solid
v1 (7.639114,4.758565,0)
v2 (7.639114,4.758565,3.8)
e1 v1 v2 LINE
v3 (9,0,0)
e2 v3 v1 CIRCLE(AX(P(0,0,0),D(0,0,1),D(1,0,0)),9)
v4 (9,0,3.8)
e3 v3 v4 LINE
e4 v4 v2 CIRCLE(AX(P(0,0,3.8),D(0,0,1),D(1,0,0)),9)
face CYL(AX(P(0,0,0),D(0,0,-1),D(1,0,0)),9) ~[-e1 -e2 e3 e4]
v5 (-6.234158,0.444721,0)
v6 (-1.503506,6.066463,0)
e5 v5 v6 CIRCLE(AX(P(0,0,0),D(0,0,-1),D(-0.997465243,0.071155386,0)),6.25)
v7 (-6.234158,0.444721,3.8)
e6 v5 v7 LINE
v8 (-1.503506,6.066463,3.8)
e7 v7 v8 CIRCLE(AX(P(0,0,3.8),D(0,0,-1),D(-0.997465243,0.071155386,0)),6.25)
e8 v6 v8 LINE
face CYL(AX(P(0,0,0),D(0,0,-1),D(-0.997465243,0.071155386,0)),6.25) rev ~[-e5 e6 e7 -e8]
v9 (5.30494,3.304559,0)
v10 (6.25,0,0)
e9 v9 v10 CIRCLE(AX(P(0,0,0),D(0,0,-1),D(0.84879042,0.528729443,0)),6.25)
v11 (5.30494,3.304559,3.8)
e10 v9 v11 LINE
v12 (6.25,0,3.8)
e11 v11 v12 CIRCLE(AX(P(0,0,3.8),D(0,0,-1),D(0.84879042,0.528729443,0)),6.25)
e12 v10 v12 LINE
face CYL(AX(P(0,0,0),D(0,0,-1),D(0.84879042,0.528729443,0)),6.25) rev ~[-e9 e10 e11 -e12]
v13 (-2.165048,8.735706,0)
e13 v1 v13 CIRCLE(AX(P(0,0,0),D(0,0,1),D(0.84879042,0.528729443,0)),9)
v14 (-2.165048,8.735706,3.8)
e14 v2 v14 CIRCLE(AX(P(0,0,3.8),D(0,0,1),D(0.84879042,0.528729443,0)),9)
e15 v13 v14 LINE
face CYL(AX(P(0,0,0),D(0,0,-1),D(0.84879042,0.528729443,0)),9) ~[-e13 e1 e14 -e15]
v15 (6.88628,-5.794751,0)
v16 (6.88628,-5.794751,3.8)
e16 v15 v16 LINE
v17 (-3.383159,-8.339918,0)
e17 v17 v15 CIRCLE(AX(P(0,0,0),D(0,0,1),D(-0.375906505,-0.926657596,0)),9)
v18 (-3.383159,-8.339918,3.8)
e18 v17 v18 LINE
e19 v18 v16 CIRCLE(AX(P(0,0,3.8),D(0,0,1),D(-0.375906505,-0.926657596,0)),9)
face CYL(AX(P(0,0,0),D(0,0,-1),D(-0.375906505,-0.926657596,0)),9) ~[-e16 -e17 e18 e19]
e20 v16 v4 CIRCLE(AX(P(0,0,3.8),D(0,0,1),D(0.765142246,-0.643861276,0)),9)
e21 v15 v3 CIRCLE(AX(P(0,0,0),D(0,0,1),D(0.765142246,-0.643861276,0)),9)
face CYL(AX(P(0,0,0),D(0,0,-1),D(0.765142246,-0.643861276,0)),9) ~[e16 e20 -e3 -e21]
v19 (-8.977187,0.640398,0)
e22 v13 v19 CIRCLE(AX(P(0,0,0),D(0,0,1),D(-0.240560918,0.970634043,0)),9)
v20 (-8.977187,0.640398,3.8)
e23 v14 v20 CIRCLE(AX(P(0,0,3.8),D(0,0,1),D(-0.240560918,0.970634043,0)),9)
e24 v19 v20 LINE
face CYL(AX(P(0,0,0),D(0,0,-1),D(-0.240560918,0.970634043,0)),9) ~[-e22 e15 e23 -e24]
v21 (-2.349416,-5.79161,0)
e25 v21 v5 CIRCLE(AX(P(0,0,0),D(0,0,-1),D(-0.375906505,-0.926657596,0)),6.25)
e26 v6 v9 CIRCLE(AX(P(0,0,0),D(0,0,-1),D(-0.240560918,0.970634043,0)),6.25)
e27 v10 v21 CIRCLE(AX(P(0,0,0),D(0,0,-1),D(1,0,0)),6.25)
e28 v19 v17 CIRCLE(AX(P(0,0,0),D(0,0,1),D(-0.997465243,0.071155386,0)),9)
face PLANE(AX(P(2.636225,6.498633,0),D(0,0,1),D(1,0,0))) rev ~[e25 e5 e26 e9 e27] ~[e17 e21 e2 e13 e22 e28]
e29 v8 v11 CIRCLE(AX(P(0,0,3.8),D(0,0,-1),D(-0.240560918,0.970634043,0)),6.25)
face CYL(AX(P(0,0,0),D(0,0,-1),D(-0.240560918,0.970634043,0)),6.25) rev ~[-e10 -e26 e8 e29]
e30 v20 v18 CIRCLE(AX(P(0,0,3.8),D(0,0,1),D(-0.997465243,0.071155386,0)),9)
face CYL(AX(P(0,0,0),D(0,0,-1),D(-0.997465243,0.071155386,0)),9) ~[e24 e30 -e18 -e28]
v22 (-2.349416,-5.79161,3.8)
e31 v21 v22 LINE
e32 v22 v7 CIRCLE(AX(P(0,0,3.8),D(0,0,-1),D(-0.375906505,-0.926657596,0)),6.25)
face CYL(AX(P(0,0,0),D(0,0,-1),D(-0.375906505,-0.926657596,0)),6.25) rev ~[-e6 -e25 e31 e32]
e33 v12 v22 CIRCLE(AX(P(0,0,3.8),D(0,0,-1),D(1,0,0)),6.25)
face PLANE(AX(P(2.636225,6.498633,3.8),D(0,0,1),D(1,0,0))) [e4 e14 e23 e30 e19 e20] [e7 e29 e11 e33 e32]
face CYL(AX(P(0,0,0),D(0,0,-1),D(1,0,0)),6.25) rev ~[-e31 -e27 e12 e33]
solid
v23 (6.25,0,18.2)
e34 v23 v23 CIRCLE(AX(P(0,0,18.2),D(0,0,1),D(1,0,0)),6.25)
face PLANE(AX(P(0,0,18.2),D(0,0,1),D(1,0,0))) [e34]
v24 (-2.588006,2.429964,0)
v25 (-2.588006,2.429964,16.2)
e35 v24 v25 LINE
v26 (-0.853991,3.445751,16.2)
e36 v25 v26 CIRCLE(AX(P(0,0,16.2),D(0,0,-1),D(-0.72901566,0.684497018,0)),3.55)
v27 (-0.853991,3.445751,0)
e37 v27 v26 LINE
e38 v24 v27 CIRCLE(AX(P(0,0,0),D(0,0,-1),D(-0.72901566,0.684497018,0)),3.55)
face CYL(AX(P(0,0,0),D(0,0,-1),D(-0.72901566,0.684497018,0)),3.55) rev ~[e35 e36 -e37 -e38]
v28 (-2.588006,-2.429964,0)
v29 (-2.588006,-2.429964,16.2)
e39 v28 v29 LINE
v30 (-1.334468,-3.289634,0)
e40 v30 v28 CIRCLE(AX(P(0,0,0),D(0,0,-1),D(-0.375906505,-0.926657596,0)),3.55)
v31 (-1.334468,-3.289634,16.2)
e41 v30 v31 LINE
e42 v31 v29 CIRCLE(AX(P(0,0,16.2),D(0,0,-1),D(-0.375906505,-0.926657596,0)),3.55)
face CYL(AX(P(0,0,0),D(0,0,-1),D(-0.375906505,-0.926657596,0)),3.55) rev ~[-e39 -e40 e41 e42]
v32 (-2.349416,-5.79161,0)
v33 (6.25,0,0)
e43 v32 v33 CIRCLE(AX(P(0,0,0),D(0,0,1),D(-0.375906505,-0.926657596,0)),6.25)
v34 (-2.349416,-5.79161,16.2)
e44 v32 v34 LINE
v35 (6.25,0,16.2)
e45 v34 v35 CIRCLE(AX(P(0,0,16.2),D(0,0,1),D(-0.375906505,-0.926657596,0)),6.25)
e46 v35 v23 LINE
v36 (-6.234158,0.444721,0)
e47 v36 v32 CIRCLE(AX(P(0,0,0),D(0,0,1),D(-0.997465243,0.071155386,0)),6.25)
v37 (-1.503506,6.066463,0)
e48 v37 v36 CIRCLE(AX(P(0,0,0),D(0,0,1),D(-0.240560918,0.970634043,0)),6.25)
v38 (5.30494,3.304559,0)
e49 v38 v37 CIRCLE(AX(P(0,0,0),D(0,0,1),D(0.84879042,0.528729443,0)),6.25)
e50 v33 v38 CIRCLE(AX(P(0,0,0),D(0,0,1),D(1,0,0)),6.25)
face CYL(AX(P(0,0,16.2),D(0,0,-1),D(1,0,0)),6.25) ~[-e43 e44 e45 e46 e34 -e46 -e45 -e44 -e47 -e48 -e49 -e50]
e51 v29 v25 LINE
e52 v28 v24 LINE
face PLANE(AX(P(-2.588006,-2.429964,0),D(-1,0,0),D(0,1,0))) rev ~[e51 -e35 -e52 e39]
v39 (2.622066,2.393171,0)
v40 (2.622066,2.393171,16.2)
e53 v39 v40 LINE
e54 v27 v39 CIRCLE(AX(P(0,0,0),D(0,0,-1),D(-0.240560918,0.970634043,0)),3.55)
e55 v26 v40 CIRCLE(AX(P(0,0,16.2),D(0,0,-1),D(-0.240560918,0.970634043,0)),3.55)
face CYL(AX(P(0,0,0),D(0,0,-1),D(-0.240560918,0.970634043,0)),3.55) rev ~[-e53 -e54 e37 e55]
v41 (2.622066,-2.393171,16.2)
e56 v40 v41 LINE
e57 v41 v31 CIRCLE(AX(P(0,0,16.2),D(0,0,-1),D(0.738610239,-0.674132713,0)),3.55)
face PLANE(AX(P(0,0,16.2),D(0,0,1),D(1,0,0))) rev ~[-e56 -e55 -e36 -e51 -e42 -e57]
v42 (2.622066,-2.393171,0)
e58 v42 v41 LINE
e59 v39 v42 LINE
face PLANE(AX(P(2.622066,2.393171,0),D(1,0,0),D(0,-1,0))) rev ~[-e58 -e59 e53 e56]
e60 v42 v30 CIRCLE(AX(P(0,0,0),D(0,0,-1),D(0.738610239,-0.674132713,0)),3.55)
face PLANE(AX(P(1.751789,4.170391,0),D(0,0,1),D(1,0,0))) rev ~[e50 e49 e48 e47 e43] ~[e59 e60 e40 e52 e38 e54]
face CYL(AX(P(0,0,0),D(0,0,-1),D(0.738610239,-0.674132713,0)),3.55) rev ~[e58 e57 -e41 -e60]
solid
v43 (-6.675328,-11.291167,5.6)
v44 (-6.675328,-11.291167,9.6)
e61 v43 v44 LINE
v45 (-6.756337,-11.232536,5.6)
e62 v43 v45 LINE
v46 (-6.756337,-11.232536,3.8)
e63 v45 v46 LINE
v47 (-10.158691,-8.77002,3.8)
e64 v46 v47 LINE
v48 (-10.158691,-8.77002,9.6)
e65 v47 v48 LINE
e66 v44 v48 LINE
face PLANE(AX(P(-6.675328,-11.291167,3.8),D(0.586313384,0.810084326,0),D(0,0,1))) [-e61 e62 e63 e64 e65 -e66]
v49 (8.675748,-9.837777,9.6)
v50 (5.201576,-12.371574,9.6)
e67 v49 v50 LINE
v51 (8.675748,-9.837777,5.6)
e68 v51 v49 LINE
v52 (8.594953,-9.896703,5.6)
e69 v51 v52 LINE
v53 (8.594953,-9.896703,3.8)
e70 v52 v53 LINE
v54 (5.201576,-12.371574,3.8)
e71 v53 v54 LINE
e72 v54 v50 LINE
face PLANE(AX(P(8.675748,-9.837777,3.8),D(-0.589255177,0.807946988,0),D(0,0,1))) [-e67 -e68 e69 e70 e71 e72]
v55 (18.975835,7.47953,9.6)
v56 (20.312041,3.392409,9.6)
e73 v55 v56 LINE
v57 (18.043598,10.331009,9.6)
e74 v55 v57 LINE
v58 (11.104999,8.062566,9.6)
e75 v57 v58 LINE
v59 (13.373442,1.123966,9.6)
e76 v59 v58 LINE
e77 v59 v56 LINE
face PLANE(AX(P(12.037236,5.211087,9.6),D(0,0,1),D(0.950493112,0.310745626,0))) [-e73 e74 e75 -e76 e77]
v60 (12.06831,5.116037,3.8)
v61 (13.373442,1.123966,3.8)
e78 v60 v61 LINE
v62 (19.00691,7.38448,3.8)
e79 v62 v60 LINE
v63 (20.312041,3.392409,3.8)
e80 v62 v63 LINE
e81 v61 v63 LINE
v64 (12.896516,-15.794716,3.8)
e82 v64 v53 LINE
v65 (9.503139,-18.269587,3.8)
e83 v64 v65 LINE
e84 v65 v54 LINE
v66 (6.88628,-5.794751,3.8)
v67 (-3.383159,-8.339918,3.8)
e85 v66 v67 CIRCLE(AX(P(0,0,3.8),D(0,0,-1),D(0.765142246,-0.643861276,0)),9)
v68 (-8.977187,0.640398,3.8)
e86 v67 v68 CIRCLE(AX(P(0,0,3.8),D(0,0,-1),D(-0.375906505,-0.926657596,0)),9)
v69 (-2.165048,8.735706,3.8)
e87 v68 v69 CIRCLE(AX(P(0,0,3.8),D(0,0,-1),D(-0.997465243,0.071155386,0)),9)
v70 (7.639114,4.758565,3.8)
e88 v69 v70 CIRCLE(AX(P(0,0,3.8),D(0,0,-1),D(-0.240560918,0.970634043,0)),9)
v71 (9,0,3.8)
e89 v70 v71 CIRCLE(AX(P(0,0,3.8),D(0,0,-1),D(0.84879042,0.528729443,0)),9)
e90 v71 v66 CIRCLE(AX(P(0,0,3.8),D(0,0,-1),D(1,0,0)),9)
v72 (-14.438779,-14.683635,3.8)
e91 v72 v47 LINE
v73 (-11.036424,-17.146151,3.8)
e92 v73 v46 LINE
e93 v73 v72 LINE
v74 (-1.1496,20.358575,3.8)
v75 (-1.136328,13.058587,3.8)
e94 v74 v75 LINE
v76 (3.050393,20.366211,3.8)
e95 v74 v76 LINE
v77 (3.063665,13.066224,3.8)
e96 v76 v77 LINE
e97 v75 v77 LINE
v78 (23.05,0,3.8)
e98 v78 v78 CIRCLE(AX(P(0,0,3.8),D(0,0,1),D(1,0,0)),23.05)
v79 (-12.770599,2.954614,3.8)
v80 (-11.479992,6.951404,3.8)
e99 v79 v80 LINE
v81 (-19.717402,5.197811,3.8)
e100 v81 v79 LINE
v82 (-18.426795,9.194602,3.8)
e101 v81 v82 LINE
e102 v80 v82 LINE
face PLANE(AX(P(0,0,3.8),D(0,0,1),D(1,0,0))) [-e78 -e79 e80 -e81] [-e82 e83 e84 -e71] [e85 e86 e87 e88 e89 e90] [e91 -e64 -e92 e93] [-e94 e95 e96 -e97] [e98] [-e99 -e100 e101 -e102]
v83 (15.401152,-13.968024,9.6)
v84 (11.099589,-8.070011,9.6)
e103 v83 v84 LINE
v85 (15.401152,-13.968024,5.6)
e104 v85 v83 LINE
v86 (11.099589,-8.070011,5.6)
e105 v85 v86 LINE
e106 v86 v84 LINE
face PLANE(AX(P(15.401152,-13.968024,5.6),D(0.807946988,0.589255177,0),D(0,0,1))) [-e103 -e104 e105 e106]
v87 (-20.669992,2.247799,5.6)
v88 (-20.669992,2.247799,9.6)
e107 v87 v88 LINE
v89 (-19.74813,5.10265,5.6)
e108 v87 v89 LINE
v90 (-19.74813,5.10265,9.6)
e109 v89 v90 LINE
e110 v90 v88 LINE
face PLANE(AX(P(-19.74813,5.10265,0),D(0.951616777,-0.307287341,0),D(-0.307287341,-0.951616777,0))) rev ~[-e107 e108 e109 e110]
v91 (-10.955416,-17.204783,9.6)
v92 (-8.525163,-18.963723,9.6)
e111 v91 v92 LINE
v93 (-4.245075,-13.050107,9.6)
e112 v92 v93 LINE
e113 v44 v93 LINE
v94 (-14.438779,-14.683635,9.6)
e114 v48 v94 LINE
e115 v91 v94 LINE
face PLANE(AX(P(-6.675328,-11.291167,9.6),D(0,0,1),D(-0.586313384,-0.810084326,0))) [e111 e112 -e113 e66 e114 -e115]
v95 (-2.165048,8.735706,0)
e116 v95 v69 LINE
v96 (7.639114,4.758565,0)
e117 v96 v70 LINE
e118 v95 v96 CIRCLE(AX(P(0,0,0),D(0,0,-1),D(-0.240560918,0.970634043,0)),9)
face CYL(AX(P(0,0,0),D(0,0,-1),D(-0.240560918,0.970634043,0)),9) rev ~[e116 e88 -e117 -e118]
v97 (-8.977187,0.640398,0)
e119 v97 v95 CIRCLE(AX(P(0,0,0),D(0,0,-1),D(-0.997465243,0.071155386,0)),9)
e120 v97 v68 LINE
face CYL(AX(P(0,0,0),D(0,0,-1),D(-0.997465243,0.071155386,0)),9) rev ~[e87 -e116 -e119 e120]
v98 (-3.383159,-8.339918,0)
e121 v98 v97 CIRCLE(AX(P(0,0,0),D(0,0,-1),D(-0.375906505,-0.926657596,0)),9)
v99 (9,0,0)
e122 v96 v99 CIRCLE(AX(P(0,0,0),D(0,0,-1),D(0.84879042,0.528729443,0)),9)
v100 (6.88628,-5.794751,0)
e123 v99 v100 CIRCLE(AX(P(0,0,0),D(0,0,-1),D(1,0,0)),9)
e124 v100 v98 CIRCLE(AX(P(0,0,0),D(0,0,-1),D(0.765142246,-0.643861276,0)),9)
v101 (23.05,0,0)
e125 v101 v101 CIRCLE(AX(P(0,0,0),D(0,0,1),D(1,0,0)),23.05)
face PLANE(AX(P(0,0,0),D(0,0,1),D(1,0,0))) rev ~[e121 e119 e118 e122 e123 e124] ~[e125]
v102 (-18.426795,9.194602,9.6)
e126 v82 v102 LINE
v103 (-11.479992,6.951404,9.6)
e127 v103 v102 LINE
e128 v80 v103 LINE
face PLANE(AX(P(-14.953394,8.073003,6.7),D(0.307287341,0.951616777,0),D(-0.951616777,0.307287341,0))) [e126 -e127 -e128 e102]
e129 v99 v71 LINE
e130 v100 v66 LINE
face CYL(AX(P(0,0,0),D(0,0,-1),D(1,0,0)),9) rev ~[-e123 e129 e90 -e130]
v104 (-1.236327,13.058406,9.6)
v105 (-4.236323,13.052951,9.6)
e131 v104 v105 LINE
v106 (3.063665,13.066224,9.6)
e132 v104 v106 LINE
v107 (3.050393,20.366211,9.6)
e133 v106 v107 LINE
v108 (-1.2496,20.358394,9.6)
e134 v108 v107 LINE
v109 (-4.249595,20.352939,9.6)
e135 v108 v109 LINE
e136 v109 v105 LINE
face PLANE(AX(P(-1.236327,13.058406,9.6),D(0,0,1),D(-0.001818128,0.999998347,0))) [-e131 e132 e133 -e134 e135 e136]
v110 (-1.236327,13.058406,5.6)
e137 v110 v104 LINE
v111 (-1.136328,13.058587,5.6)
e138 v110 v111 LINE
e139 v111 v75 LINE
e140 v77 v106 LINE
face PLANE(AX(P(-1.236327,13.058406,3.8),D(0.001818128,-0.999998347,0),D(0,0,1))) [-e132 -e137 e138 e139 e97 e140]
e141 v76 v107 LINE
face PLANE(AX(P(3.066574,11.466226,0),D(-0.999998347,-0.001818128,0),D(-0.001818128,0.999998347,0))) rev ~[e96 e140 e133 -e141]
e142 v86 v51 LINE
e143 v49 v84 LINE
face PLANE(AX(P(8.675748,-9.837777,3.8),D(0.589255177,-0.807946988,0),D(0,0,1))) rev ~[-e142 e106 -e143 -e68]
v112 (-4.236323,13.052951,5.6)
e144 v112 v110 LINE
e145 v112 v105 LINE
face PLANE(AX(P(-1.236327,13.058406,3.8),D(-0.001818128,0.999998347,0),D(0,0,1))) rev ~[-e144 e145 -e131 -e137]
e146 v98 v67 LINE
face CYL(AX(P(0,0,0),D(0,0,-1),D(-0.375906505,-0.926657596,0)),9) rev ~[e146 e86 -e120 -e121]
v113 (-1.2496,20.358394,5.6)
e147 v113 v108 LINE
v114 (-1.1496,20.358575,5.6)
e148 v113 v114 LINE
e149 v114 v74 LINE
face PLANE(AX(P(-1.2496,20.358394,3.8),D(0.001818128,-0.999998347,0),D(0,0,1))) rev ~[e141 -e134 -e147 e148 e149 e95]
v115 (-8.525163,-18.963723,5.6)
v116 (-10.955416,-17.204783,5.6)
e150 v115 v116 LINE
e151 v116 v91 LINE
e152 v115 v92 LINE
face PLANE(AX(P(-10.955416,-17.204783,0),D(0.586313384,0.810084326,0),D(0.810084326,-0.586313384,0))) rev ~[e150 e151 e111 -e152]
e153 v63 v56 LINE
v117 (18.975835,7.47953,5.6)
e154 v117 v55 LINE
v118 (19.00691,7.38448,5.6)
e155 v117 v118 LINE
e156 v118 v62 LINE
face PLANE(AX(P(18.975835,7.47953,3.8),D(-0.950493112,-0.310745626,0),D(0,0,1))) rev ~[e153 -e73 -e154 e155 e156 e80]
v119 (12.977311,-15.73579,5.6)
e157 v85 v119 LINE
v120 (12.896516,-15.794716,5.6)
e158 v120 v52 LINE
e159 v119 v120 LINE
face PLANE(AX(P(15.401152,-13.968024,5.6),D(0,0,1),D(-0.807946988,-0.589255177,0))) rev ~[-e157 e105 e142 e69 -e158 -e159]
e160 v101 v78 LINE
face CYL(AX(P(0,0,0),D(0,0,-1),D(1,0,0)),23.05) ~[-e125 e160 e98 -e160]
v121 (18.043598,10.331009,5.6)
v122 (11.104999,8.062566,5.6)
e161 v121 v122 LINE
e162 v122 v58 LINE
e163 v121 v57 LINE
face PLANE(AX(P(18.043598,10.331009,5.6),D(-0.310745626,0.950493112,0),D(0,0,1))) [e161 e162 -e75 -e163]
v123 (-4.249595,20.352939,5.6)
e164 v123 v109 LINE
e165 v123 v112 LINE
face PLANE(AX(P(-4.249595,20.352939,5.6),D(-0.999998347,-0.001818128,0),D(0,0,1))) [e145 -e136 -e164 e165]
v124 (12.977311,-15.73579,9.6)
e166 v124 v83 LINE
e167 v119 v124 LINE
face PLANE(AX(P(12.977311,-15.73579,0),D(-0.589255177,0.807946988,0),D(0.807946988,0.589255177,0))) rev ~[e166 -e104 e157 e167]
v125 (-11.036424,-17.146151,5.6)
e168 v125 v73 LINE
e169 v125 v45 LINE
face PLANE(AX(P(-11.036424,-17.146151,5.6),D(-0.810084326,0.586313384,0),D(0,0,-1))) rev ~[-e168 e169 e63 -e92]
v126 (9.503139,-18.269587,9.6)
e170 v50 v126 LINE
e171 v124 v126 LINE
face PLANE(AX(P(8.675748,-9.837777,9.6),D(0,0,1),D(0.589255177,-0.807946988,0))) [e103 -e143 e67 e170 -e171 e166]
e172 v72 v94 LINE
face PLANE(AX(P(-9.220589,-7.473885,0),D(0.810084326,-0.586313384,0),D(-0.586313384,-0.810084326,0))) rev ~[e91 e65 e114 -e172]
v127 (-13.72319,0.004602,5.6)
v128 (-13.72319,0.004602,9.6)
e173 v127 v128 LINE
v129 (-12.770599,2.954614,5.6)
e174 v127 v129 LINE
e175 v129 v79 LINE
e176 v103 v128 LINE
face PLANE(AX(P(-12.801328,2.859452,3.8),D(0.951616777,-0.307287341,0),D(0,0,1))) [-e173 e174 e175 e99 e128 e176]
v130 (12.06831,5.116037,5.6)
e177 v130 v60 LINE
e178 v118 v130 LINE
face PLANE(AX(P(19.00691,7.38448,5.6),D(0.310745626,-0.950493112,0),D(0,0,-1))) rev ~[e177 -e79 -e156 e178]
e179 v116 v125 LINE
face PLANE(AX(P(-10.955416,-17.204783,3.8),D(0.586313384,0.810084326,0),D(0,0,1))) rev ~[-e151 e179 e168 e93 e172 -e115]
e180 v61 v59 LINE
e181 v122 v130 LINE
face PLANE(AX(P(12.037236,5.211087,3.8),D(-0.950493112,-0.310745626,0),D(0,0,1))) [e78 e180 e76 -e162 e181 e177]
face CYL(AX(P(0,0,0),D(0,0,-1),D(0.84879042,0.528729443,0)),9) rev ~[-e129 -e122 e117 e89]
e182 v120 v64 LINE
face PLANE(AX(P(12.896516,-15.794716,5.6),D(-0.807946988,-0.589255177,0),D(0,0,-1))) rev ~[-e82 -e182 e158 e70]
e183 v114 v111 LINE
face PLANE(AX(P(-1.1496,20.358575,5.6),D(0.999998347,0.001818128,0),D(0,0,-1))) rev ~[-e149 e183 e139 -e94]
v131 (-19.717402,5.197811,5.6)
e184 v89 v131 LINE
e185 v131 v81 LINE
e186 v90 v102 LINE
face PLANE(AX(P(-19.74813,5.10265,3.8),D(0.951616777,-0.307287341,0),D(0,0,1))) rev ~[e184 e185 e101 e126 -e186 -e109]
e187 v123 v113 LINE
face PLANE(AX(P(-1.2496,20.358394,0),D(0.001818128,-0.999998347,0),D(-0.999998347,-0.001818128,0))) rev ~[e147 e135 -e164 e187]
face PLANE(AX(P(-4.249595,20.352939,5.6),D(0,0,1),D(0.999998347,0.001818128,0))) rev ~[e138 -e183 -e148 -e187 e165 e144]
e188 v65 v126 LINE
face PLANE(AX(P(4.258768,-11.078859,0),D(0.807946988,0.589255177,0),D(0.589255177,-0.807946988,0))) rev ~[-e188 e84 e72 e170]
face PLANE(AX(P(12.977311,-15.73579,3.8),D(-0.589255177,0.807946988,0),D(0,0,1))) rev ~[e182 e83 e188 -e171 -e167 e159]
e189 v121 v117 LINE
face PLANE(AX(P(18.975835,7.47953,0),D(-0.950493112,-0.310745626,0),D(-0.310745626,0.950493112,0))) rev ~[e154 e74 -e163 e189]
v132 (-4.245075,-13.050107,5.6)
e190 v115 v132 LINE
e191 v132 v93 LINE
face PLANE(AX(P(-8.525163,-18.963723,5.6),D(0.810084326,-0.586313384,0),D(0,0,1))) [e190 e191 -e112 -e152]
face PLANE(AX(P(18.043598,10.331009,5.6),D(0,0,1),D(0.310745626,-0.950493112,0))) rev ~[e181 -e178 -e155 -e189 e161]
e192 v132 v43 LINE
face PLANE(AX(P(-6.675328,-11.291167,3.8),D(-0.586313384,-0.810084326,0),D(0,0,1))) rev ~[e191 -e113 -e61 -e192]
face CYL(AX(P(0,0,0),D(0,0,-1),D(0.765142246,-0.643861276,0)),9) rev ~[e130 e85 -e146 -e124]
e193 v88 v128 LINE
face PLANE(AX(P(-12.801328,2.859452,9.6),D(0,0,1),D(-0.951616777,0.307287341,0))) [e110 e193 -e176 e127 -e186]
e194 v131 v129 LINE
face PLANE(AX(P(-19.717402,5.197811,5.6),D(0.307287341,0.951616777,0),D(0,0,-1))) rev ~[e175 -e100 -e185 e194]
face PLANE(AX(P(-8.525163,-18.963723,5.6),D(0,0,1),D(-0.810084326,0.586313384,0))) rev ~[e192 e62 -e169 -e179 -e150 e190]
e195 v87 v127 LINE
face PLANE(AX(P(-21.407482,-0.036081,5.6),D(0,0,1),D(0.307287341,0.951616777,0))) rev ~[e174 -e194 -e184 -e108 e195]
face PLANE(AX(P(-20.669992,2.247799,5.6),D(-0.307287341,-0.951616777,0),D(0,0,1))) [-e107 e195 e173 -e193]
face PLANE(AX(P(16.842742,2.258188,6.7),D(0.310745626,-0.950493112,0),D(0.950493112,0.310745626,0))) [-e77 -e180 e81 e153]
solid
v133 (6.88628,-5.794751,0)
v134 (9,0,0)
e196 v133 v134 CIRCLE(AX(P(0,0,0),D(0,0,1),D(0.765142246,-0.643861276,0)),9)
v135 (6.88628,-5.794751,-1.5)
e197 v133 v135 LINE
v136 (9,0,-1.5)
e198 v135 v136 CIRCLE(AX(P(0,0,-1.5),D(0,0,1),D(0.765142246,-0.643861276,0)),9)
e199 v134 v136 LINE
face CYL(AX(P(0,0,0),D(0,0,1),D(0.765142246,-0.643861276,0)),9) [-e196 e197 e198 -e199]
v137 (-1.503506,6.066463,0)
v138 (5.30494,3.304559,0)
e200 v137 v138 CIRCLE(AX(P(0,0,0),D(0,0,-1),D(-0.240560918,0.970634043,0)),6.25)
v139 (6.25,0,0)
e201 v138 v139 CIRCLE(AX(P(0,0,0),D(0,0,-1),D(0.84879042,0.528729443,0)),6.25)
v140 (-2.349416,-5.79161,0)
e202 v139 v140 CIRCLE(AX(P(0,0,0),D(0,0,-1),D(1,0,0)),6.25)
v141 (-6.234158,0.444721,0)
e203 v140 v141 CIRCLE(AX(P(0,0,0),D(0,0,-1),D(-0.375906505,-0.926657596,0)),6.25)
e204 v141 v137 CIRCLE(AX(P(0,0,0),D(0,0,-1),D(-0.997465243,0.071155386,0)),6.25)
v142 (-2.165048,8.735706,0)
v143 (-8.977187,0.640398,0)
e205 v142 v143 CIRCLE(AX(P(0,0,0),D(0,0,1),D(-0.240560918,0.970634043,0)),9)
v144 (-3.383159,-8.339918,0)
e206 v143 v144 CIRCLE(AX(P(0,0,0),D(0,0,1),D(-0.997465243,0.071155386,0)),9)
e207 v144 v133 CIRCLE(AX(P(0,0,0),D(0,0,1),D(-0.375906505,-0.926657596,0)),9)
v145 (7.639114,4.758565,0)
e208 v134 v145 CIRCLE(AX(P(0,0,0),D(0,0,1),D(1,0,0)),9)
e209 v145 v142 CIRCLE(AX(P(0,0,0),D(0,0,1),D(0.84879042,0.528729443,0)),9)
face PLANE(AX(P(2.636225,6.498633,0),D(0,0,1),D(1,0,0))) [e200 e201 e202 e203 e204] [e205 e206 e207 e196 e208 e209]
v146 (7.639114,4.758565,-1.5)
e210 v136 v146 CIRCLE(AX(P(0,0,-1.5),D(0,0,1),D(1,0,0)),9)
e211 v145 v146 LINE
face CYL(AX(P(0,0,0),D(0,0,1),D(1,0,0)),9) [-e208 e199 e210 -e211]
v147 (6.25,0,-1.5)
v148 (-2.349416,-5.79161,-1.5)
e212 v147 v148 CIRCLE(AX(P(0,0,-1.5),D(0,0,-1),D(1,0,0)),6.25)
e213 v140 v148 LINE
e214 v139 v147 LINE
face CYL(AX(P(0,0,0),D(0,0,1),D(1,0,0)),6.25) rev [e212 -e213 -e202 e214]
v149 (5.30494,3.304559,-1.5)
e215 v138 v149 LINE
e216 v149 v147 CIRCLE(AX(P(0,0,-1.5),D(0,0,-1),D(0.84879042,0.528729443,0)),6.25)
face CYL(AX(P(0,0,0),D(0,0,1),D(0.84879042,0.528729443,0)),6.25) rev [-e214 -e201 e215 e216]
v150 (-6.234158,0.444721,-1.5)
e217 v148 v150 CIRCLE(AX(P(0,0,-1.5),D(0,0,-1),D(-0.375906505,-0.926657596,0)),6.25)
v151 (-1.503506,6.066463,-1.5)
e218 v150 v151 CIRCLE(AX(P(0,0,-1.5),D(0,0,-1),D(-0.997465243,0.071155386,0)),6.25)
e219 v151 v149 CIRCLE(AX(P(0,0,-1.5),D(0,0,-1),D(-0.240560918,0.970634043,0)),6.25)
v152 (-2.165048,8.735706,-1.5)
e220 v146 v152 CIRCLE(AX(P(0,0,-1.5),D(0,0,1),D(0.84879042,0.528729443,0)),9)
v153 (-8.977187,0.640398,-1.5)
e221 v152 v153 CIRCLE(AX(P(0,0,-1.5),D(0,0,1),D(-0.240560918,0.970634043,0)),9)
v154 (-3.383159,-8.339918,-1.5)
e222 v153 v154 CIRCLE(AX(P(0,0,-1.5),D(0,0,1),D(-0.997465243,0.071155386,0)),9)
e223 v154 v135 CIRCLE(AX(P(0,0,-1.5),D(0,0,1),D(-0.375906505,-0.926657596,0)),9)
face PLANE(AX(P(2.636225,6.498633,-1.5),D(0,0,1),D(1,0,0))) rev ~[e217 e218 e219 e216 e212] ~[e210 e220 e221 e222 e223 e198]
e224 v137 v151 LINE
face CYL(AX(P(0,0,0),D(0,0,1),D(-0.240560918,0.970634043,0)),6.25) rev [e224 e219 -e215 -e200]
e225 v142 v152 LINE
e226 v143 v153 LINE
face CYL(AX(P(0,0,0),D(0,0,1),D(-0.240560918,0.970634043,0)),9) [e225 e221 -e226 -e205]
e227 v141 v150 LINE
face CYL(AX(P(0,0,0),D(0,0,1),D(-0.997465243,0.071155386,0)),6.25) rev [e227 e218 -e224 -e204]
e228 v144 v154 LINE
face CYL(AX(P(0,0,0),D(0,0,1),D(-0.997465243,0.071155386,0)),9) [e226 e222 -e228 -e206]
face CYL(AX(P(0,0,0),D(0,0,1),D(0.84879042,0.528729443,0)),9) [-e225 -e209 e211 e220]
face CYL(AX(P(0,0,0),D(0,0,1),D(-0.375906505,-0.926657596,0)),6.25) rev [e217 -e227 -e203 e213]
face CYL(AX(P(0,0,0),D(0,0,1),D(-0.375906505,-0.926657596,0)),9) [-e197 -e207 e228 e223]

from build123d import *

# Parameters (mm, degrees)
F1_DEPTH  = 16.2
F0_R      = 23.05
F2_DEPTH  = 3.8
F3_DEPTH  = 1.5
F4_DEPTH  = 3.8
F5_R      = 6.25
F6_DEPTH  = 2
F7_DEPTH  = 9.6
F8_W      = 1.6
F8_H      = 5.8
F9_DEPTH  = 5.4
F8_W_2    = 7.3
F10_DEPTH = 4.3
F12_DEPTH = 7.3
F11_W     = 2.4
F11_H     = 4
F13_DEPTH = 7.3
F14_W     = 1.6
F14_H     = 5.8
F15_DEPTH = 5.4
F16_DEPTH = 4.3
F17_W     = 2.4
F17_H     = 4
F18_DEPTH = 7.3
F19_W     = 1.6
F19_H     = 5.8
F20_DEPTH = 5.4
F19_W_2   = 7.3
F21_DEPTH = 4.3
F22_W     = 2.4
F22_H     = 4
F23_DEPTH = 7.3
F24_W     = 1.6
F24_H     = 5.8
F25_DEPTH = 5.4
F26_DEPTH = 4.3
F27_W     = 2.4
F27_H     = 4
F28_DEPTH = 7.3
F29_W     = 1.6
F29_H     = 5.8
F30_DEPTH = 5.4
F31_DEPTH = 4.3
F32_W     = 2.4
F32_H     = 4
F33_DEPTH = 7.3


with BuildPart() as f1:
    # F0 (on Top) → F1 (new body)
    with BuildSketch(Plane.XY):
        with BuildLine():
            Line((2.62206635, 1.633340396), (5.3049401224, 3.3045590171))
            ThreePointArc((5.3049401224, 3.3045590171), (2.3494156576, 5.791609972), (-1.5035057347, 6.0664627672))
            Line((-1.5035057347, 6.0664627672), (-0.8539912573, 3.4457508518))
            ThreePointArc((-0.8539912573, 3.4457508518), (1.0288359447, 3.3976457436), (2.62206635, 2.3931711297))
            Line((2.62206635, 2.3931711297), (2.62206635, 1.633340396))
        make_face()
        with BuildLine():
            Line((-0.8539912573, 3.4457508518), (-1.5035057347, 6.0664627672))
            ThreePointArc((-1.5035057347, 6.0664627672), (-4.7821390387, 4.0241329768), (-6.2341577688, 0.4447211645))
            Line((-6.2341577688, 0.4447211645), (-2.5880055924, 0.1846185008))
            Line((-2.5880055924, 0.1846185008), (-2.5880055924, 2.4299644141))
            ThreePointArc((-2.5880055924, 2.4299644141), (-1.7943776359, 3.0631207779), (-0.8539912573, 3.4457508518))
        make_face()
        with BuildLine():
            ThreePointArc((-6.2341577688, 0.4447211645), (-5.3049401224, -3.3045590171), (-2.3494156576, -5.791609972))
            Line((-2.3494156576, -5.791609972), (-1.3344680935, -3.2896344641))
            ThreePointArc((-1.3344680935, -3.2896344641), (-2.0077868669, -2.9276768772), (-2.5880055924, -2.4299644141))
            Line((-2.5880055924, -2.4299644141), (-2.5880055924, 0.1846185008))
            Line((-2.5880055924, 0.1846185008), (-6.2341577688, 0.4447211645))
        make_face()
        with BuildLine():
            ThreePointArc((-2.3494156576, -5.791609972), (1.5035057347, -6.0664627672), (4.7821390387, -4.0241329768))
            Line((4.7821390387, -4.0241329768), (2.62206635, -2.206448533))
            Line((2.62206635, -2.206448533), (2.62206635, -2.3931711297))
            ThreePointArc((2.62206635, -2.3931711297), (0.7844673002, -3.4622407564), (-1.3344680935, -3.2896344641))
            Line((-1.3344680935, -3.2896344641), (-2.3494156576, -5.791609972))
        make_face()
        with BuildLine():
            ThreePointArc((4.7821390387, -4.0241329768), (5.8715785353, -2.1417435664), (6.25, 0))
            ThreePointArc((6.25, 0), (6.0090921014, 1.7185203279), (5.3049401224, 3.3045590171))
            Line((5.3049401224, 3.3045590171), (2.62206635, 1.633340396))
            Line((2.62206635, 1.633340396), (2.62206635, -2.206448533))
            Line((2.62206635, -2.206448533), (4.7821390387, -4.0241329768))
        make_face()
    extrude(amount=F1_DEPTH)

    # F5 (on face) → F6 (join)
    with BuildSketch(Plane.XY.offset(16.2)):
        Circle(F5_R)
        with BuildLine():
            ThreePointArc((2.62206635, -2.3931711297), (0.0250693088, -3.549911482), (-2.5880055924, -2.4299644141))
            Line((-2.5880055924, -2.4299644141), (-2.5880055924, 2.4299644141))
            ThreePointArc((-2.5880055924, 2.4299644141), (0.0250693088, 3.549911482), (2.62206635, 2.3931711297))
            Line((2.62206635, 2.3931711297), (2.62206635, -2.3931711297))
        make_face(mode=Mode.SUBTRACT)
        with BuildLine():
            Line((-2.5880055924, 2.4299644141), (-2.5880055924, -2.4299644141))
            ThreePointArc((-2.5880055924, -2.4299644141), (0.0250693088, -3.549911482), (2.62206635, -2.3931711297))
            Line((2.62206635, -2.3931711297), (2.62206635, 2.3931711297))
            ThreePointArc((2.62206635, 2.3931711297), (0.0250693088, 3.549911482), (-2.5880055924, 2.4299644141))
        make_face()
    extrude(amount=F6_DEPTH)


with BuildPart() as f2:
    # F0 (on Top) → F2 (new body)
    with BuildSketch(Plane.XY):
        Circle(F0_R)
        Polygon((-5.7372268782, -9.9950321736), (-4.436474094, -10.9364758511), (-1.3627715174, -13.161124449), (-6.5809606379, -20.370874951), (-10.9554159987, -17.2047826756), align=None, mode=Mode.SUBTRACT)
        Polygon((7.7329398733, -8.5450618089), (9.0302607334, -7.5988944931), (12.0958536107, -5.3630838516), (17.3402246884, -12.5538120484), (12.977310951, -15.7357900056), align=None, mode=Mode.SUBTRACT)
        Polygon((-11.2787410852, 2.367792207), (-11.7721525137, 0.8397806999), (-12.9380927273, -2.770938388), (-21.4074820413, -0.036081052), (-19.7481303992, 5.102649543), align=None, mode=Mode.SUBTRACT)
        Polygon((-1.2334184628, 11.4584082358), (-2.8391162802, 11.4554888668), (-6.6334095377, 11.4485903445), (-6.6495908771, 20.3485756346), (-1.2495998022, 20.3583935259), align=None, mode=Mode.SUBTRACT)
        with BuildLine():
            ThreePointArc((-2.165048258, 8.7357063847), (3.3831585469, 8.3399183597), (7.6391137763, 4.7585649846))
            ThreePointArc((7.6391137763, 4.7585649846), (8.6530926259, 2.4746692722), (9, 0))
            ThreePointArc((9, 0), (8.4550730908, -3.0841107356), (6.8862802157, -5.7947514866))
            ThreePointArc((6.8862802157, -5.7947514866), (2.165048258, -8.7357063847), (-3.3831585469, -8.3399183597))
            ThreePointArc((-3.3831585469, -8.3399183597), (-7.6391137763, -4.7585649846), (-8.977187187, 0.6403984769))
            ThreePointArc((-8.977187187, 0.6403984769), (-6.8862802157, 5.7947514866), (-2.165048258, 8.7357063847))
        make_face(mode=Mode.SUBTRACT)
        Polygon((10.5164465528, 4.7138935397), (10.0174821545, 6.2401007775), (8.8384201717, 9.8465563442), (17.2978088679, 12.6121924168), (18.9758352491, 7.4795296123), align=None, mode=Mode.SUBTRACT)
    extrude(amount=F2_DEPTH)

    # F0 (on Top) → F7 (join)
    with BuildSketch(Plane.XY):
        Polygon((-21.4074820413, -0.036081052), (-12.9380927273, -2.770938388), (-16.3431115632, 1.1658555775), align=None)
        Polygon((-12.9380927273, -2.770938388), (-11.7721525137, 0.8397806999), (-16.3431115632, 1.1658555775), align=None)
        Polygon((-21.4074820413, -0.036081052), (-16.3431115632, 1.1658555775), (-19.7481303992, 5.102649543), align=None)
        Polygon((-16.3431115632, 1.1658555775), (-11.2787410852, 2.367792207), (-19.7481303992, 5.102649543), align=None)
        Polygon((-16.3431115632, 1.1658555775), (-11.7721525137, 0.8397806999), (-11.2787410852, 2.367792207), align=None)
        Polygon((-6.5809606379, -20.370874951), (-6.1590937581, -15.1829535623), (-10.9554159987, -17.2047826756), align=None)
        Polygon((-6.1590937581, -15.1829535623), (-5.7372268782, -9.9950321736), (-10.9554159987, -17.2047826756), align=None)
        Polygon((-6.5809606379, -20.370874951), (-1.3627715174, -13.161124449), (-6.1590937581, -15.1829535623), align=None)
        Polygon((-1.3627715174, -13.161124449), (-4.436474094, -10.9364758511), (-6.1590937581, -15.1829535623), align=None)
        Polygon((-6.1590937581, -15.1829535623), (-4.436474094, -10.9364758511), (-5.7372268782, -9.9950321736), align=None)
        Polygon((12.5365822809, -10.5494369286), (7.7329398733, -8.5450618089), (12.977310951, -15.7357900056), align=None)
        Polygon((17.3402246884, -12.5538120484), (12.5365822809, -10.5494369286), (12.977310951, -15.7357900056), align=None)
        Polygon((17.3402246884, -12.5538120484), (12.0958536107, -5.3630838516), (12.5365822809, -10.5494369286), align=None)
        Polygon((12.0958536107, -5.3630838516), (9.0302607334, -7.5988944931), (12.5365822809, -10.5494369286), align=None)
        Polygon((12.5365822809, -10.5494369286), (9.0302607334, -7.5988944931), (7.7329398733, -8.5450618089), align=None)
        Polygon((13.9071277104, 8.6630429782), (10.5164465528, 4.7138935397), (18.9758352491, 7.4795296123), align=None)
        Polygon((13.9071277104, 8.6630429782), (10.0174821545, 6.2401007775), (10.5164465528, 4.7138935397), align=None)
        Polygon((8.8384201717, 9.8465563442), (10.0174821545, 6.2401007775), (13.9071277104, 8.6630429782), align=None)
        Polygon((17.2978088679, 12.6121924168), (8.8384201717, 9.8465563442), (13.9071277104, 8.6630429782), align=None)
        Polygon((17.2978088679, 12.6121924168), (13.9071277104, 8.6630429782), (18.9758352491, 7.4795296123), align=None)
        Polygon((-6.6334095377, 11.4485903445), (-2.8391162802, 11.4554888668), (-3.94150467, 15.9034919352), align=None)
        Polygon((-3.94150467, 15.9034919352), (-2.8391162802, 11.4554888668), (-1.2334184628, 11.4584082358), align=None)
        Polygon((-3.94150467, 15.9034919352), (-1.2334184628, 11.4584082358), (-1.2495998022, 20.3583935259), align=None)
        Polygon((-6.6495908771, 20.3485756346), (-3.94150467, 15.9034919352), (-1.2495998022, 20.3583935259), align=None)
        Polygon((-6.6495908771, 20.3485756346), (-6.6334095377, 11.4485903445), (-3.94150467, 15.9034919352), align=None)
    extrude(amount=F7_DEPTH)

    # F8 (on face) → F9 (cut)
    with BuildSketch(Plane(origin=(-0.3726115815, -1.1539148696, 0), x_dir=(-0.9516167768, 0.3072873411, 0), z_dir=(0.3072873411, 0.9516167768, 0))):
        with Locations((12.2606318101, 6.7)):
            Rectangle(F8_W, F8_H)
    extrude(amount=-F9_DEPTH, mode=Mode.SUBTRACT)

    # F8 (on face) → F10 (join)
    with BuildSketch(Plane(origin=(-0.3726115815, -1.1539148696, 0), x_dir=(-0.9516167768, 0.3072873411, 0), z_dir=(0.3072873411, 0.9516167768, 0))):
        with Locations((16.7106318101, 6.7)):
            Rectangle(F8_W_2, F8_H)
    extrude(amount=F10_DEPTH)

    # F11 (on face) → F12 (cut)
    with BuildSketch(Plane(origin=(-19.3755188177, 6.2565644126, 0), x_dir=(-0.3072873411, -0.9516167768, 0), z_dir=(-0.9516167768, 0.3072873411, 0))):
        Polygon((1.1125835711, 3.8), (6.6125835711, 3.8), (6.6125835711, 5.6), (4.2125835711, 5.6), (1.1125835711, 5.6), align=None)
    extrude(amount=-F12_DEPTH, mode=Mode.SUBTRACT)

    # F11 (on face) → F13 (cut)
    with BuildSketch(Plane(origin=(-19.3755188177, 6.2565644126, 0), x_dir=(-0.3072873411, -0.9516167768, 0), z_dir=(-0.9516167768, 0.3072873411, 0))):
        with Locations((5.4125835711, 7.6)):
            Rectangle(F11_W, F11_H)
    extrude(amount=-F13_DEPTH, mode=Mode.SUBTRACT)

    # F14 (on face) → F15 (cut)
    with BuildSketch(Plane(origin=(-1.2125815669, -0.0022046322, 0), x_dir=(-0.001818128, 0.9999983472, 0), z_dir=(0.9999983472, 0.001818128, 0))):
        with Locations((12.2606318101, 6.7)):
            Rectangle(F14_W, F14_H)
    extrude(amount=-F15_DEPTH, mode=Mode.SUBTRACT)

    # F16 (add): a face of the model
    f16_faces = [f2.faces().sort_by_distance(p)[0] for p in [
        (-1.2429636349, 16.7083995586, 6.7),
    ]]
    extrude(f16_faces, amount=F16_DEPTH)

    # F17 (on face) → F18 (cut)
    with BuildSketch(Plane(origin=(-0.0370182353, 20.3605981581, 0), x_dir=(-0.9999983472, -0.001818128, 0), z_dir=(-0.001818128, 0.9999983472, 0))):
        Polygon((1.1125835711, 3.8), (6.6125835711, 3.8), (6.6125835711, 5.6), (4.2125835711, 5.6), (1.1125835711, 5.6), align=None)
        with Locations((5.4125835711, 7.6)):
            Rectangle(F17_W, F17_H)
    extrude(amount=-F18_DEPTH, mode=Mode.SUBTRACT)

    # F19 (on face) → F20 (cut)
    with BuildSketch(Plane(origin=(-0.376805041, 1.152552332, 0), x_dir=(0.9504931119, 0.3107456261, 0), z_dir=(0.3107456261, -0.9504931119, 0))):
        with Locations((12.2606318101, 6.7)):
            Rectangle(F19_W, F19_H)
    extrude(amount=-F20_DEPTH, mode=Mode.SUBTRACT)

    # F19 (on face) → F21 (join)
    with BuildSketch(Plane(origin=(-0.376805041, 1.152552332, 0), x_dir=(0.9504931119, 0.3107456261, 0), z_dir=(0.3107456261, -0.9504931119, 0))):
        with Locations((16.7106318101, 6.7)):
            Rectangle(F19_W_2, F19_H)
    extrude(amount=F21_DEPTH)

    # F22 (on face) → F23 (cut)
    with BuildSketch(Plane(origin=(19.3526402901, 6.3269772804, 0), x_dir=(-0.3107456261, 0.9504931119, 0), z_dir=(0.9504931119, 0.3107456261, 0))):
        with Locations((5.4125835711, 7.6)):
            Rectangle(F22_W, F22_H)
        Polygon((1.1125835711, 3.8), (6.6125835711, 3.8), (6.6125835711, 5.6), (4.2125835711, 5.6), (1.1125835711, 5.6), align=None)
    extrude(amount=-F23_DEPTH, mode=Mode.SUBTRACT)

    # F24 (on face) → F25 (cut)
    with BuildSketch(Plane(origin=(0.9797032444, 0.7145211471, 0), x_dir=(0.5892551773, -0.8079469884, 0), z_dir=(-0.8079469884, -0.5892551773, 0))):
        with Locations((12.2606318101, 6.7)):
            Rectangle(F24_W, F24_H)
    extrude(amount=-F25_DEPTH, mode=Mode.SUBTRACT)

    # F26 (add): a face of the model
    f26_faces = [f2.faces().sort_by_distance(p)[0] for p in [
        (10.826529554, -12.786783498, 6.7),
    ]]
    extrude(f26_faces, amount=F26_DEPTH)

    # F27 (on face) → F28 (cut)
    with BuildSketch(Plane(origin=(11.9976077066, -16.4503111528, 0), x_dir=(0.8079469884, 0.5892551773, 0), z_dir=(0.5892551773, -0.8079469884, 0))):
        with Locations((5.4125835711, 7.6)):
            Rectangle(F27_W, F27_H)
        Polygon((1.1125835711, 3.8), (6.6125835711, 3.8), (6.6125835711, 5.6), (4.2125835711, 5.6), (1.1125835711, 5.6), align=None)
    extrude(amount=-F28_DEPTH, mode=Mode.SUBTRACT)

    # F29 (on face) → F30 (cut)
    with BuildSketch(Plane(origin=(0.982294945, -0.7109539774, 0), x_dir=(-0.5863133843, -0.8100843261, 0), z_dir=(-0.8100843261, 0.5863133843, 0))):
        with Locations((12.2606318101, 6.7)):
            Rectangle(F29_W, F29_H)
    extrude(amount=-F30_DEPTH, mode=Mode.SUBTRACT)

    # F31 (add): a face of the model
    f31_faces = [f2.faces().sort_by_distance(p)[0] for p in [
        (-8.8153721459, -14.2479748855, 6.7),
    ]]
    extrude(f31_faces, amount=F31_DEPTH)

    # F32 (on face) → F33 (cut)
    with BuildSketch(Plane(origin=(-11.9377109437, -16.4938286983, 0), x_dir=(0.8100843261, -0.5863133843, 0), z_dir=(-0.5863133843, -0.8100843261, 0))):
        with Locations((5.4125835711, 7.6)):
            Rectangle(F32_W, F32_H)
        Polygon((1.1125835711, 3.8), (6.6125835711, 3.8), (6.6125835711, 5.6), (4.2125835711, 5.6), (1.1125835711, 5.6), align=None)
    extrude(amount=-F33_DEPTH, mode=Mode.SUBTRACT)


with BuildPart() as f3:
    # F0 (on Top) → F3 (new body)
    with BuildSketch(Plane.XY):
        with BuildLine():
            ThreePointArc((-1.5035057347, 6.0664627672), (2.3494156576, 5.791609972), (5.3049401224, 3.3045590171))
            Line((5.3049401224, 3.3045590171), (7.6391137763, 4.7585649846))
            ThreePointArc((7.6391137763, 4.7585649846), (3.3831585469, 8.3399183597), (-2.165048258, 8.7357063847))
            Line((-2.165048258, 8.7357063847), (-1.5035057347, 6.0664627672))
        make_face()
        with BuildLine():
            ThreePointArc((-6.2341577688, 0.4447211645), (-4.7821390387, 4.0241329768), (-1.5035057347, 6.0664627672))
            Line((-1.5035057347, 6.0664627672), (-2.165048258, 8.7357063847))
            ThreePointArc((-2.165048258, 8.7357063847), (-6.8862802157, 5.7947514866), (-8.977187187, 0.6403984769))
            Line((-8.977187187, 0.6403984769), (-6.2341577688, 0.4447211645))
        make_face()
        with BuildLine():
            Line((-3.3831585469, -8.3399183597), (-2.3494156576, -5.791609972))
            ThreePointArc((-2.3494156576, -5.791609972), (-5.3049401224, -3.3045590171), (-6.2341577688, 0.4447211645))
            Line((-6.2341577688, 0.4447211645), (-8.977187187, 0.6403984769))
            ThreePointArc((-8.977187187, 0.6403984769), (-7.6391137763, -4.7585649846), (-3.3831585469, -8.3399183597))
        make_face()
        with BuildLine():
            Line((6.8862802157, -5.7947514866), (4.7821390387, -4.0241329768))
            ThreePointArc((4.7821390387, -4.0241329768), (1.5035057347, -6.0664627672), (-2.3494156576, -5.791609972))
            Line((-2.3494156576, -5.791609972), (-3.3831585469, -8.3399183597))
            ThreePointArc((-3.3831585469, -8.3399183597), (2.165048258, -8.7357063847), (6.8862802157, -5.7947514866))
        make_face()
        with BuildLine():
            ThreePointArc((5.3049401224, 3.3045590171), (6.0090921014, 1.7185203279), (6.25, 0))
            ThreePointArc((6.25, 0), (5.8715785353, -2.1417435664), (4.7821390387, -4.0241329768))
            Line((4.7821390387, -4.0241329768), (6.8862802157, -5.7947514866))
            ThreePointArc((6.8862802157, -5.7947514866), (8.4550730908, -3.0841107356), (9, 0))
            ThreePointArc((9, 0), (8.6530926259, 2.4746692722), (7.6391137763, 4.7585649846))
            Line((7.6391137763, 4.7585649846), (5.3049401224, 3.3045590171))
        make_face()
    extrude(amount=-F3_DEPTH)


with BuildPart() as f4:
    # F0 (on Top) → F4 (new body)
    with BuildSketch(Plane.XY):
        with BuildLine():
            ThreePointArc((-1.5035057347, 6.0664627672), (2.3494156576, 5.791609972), (5.3049401224, 3.3045590171))
            Line((5.3049401224, 3.3045590171), (7.6391137763, 4.7585649846))
            ThreePointArc((7.6391137763, 4.7585649846), (3.3831585469, 8.3399183597), (-2.165048258, 8.7357063847))
            Line((-2.165048258, 8.7357063847), (-1.5035057347, 6.0664627672))
        make_face()
        with BuildLine():
            ThreePointArc((-6.2341577688, 0.4447211645), (-4.7821390387, 4.0241329768), (-1.5035057347, 6.0664627672))
            Line((-1.5035057347, 6.0664627672), (-2.165048258, 8.7357063847))
            ThreePointArc((-2.165048258, 8.7357063847), (-6.8862802157, 5.7947514866), (-8.977187187, 0.6403984769))
            Line((-8.977187187, 0.6403984769), (-6.2341577688, 0.4447211645))
        make_face()
        with BuildLine():
            Line((-3.3831585469, -8.3399183597), (-2.3494156576, -5.791609972))
            ThreePointArc((-2.3494156576, -5.791609972), (-5.3049401224, -3.3045590171), (-6.2341577688, 0.4447211645))
            Line((-6.2341577688, 0.4447211645), (-8.977187187, 0.6403984769))
            ThreePointArc((-8.977187187, 0.6403984769), (-7.6391137763, -4.7585649846), (-3.3831585469, -8.3399183597))
        make_face()
        with BuildLine():
            Line((6.8862802157, -5.7947514866), (4.7821390387, -4.0241329768))
            ThreePointArc((4.7821390387, -4.0241329768), (1.5035057347, -6.0664627672), (-2.3494156576, -5.791609972))
            Line((-2.3494156576, -5.791609972), (-3.3831585469, -8.3399183597))
            ThreePointArc((-3.3831585469, -8.3399183597), (2.165048258, -8.7357063847), (6.8862802157, -5.7947514866))
        make_face()
        with BuildLine():
            ThreePointArc((5.3049401224, 3.3045590171), (6.0090921014, 1.7185203279), (6.25, 0))
            ThreePointArc((6.25, 0), (5.8715785353, -2.1417435664), (4.7821390387, -4.0241329768))
            Line((4.7821390387, -4.0241329768), (6.8862802157, -5.7947514866))
            ThreePointArc((6.8862802157, -5.7947514866), (8.4550730908, -3.0841107356), (9, 0))
            ThreePointArc((9, 0), (8.6530926259, 2.4746692722), (7.6391137763, 4.7585649846))
            Line((7.6391137763, 4.7585649846), (5.3049401224, 3.3045590171))
        make_face()
    extrude(amount=F4_DEPTH)


solid = Compound([f1.part, f2.part, f3.part, f4.part])
